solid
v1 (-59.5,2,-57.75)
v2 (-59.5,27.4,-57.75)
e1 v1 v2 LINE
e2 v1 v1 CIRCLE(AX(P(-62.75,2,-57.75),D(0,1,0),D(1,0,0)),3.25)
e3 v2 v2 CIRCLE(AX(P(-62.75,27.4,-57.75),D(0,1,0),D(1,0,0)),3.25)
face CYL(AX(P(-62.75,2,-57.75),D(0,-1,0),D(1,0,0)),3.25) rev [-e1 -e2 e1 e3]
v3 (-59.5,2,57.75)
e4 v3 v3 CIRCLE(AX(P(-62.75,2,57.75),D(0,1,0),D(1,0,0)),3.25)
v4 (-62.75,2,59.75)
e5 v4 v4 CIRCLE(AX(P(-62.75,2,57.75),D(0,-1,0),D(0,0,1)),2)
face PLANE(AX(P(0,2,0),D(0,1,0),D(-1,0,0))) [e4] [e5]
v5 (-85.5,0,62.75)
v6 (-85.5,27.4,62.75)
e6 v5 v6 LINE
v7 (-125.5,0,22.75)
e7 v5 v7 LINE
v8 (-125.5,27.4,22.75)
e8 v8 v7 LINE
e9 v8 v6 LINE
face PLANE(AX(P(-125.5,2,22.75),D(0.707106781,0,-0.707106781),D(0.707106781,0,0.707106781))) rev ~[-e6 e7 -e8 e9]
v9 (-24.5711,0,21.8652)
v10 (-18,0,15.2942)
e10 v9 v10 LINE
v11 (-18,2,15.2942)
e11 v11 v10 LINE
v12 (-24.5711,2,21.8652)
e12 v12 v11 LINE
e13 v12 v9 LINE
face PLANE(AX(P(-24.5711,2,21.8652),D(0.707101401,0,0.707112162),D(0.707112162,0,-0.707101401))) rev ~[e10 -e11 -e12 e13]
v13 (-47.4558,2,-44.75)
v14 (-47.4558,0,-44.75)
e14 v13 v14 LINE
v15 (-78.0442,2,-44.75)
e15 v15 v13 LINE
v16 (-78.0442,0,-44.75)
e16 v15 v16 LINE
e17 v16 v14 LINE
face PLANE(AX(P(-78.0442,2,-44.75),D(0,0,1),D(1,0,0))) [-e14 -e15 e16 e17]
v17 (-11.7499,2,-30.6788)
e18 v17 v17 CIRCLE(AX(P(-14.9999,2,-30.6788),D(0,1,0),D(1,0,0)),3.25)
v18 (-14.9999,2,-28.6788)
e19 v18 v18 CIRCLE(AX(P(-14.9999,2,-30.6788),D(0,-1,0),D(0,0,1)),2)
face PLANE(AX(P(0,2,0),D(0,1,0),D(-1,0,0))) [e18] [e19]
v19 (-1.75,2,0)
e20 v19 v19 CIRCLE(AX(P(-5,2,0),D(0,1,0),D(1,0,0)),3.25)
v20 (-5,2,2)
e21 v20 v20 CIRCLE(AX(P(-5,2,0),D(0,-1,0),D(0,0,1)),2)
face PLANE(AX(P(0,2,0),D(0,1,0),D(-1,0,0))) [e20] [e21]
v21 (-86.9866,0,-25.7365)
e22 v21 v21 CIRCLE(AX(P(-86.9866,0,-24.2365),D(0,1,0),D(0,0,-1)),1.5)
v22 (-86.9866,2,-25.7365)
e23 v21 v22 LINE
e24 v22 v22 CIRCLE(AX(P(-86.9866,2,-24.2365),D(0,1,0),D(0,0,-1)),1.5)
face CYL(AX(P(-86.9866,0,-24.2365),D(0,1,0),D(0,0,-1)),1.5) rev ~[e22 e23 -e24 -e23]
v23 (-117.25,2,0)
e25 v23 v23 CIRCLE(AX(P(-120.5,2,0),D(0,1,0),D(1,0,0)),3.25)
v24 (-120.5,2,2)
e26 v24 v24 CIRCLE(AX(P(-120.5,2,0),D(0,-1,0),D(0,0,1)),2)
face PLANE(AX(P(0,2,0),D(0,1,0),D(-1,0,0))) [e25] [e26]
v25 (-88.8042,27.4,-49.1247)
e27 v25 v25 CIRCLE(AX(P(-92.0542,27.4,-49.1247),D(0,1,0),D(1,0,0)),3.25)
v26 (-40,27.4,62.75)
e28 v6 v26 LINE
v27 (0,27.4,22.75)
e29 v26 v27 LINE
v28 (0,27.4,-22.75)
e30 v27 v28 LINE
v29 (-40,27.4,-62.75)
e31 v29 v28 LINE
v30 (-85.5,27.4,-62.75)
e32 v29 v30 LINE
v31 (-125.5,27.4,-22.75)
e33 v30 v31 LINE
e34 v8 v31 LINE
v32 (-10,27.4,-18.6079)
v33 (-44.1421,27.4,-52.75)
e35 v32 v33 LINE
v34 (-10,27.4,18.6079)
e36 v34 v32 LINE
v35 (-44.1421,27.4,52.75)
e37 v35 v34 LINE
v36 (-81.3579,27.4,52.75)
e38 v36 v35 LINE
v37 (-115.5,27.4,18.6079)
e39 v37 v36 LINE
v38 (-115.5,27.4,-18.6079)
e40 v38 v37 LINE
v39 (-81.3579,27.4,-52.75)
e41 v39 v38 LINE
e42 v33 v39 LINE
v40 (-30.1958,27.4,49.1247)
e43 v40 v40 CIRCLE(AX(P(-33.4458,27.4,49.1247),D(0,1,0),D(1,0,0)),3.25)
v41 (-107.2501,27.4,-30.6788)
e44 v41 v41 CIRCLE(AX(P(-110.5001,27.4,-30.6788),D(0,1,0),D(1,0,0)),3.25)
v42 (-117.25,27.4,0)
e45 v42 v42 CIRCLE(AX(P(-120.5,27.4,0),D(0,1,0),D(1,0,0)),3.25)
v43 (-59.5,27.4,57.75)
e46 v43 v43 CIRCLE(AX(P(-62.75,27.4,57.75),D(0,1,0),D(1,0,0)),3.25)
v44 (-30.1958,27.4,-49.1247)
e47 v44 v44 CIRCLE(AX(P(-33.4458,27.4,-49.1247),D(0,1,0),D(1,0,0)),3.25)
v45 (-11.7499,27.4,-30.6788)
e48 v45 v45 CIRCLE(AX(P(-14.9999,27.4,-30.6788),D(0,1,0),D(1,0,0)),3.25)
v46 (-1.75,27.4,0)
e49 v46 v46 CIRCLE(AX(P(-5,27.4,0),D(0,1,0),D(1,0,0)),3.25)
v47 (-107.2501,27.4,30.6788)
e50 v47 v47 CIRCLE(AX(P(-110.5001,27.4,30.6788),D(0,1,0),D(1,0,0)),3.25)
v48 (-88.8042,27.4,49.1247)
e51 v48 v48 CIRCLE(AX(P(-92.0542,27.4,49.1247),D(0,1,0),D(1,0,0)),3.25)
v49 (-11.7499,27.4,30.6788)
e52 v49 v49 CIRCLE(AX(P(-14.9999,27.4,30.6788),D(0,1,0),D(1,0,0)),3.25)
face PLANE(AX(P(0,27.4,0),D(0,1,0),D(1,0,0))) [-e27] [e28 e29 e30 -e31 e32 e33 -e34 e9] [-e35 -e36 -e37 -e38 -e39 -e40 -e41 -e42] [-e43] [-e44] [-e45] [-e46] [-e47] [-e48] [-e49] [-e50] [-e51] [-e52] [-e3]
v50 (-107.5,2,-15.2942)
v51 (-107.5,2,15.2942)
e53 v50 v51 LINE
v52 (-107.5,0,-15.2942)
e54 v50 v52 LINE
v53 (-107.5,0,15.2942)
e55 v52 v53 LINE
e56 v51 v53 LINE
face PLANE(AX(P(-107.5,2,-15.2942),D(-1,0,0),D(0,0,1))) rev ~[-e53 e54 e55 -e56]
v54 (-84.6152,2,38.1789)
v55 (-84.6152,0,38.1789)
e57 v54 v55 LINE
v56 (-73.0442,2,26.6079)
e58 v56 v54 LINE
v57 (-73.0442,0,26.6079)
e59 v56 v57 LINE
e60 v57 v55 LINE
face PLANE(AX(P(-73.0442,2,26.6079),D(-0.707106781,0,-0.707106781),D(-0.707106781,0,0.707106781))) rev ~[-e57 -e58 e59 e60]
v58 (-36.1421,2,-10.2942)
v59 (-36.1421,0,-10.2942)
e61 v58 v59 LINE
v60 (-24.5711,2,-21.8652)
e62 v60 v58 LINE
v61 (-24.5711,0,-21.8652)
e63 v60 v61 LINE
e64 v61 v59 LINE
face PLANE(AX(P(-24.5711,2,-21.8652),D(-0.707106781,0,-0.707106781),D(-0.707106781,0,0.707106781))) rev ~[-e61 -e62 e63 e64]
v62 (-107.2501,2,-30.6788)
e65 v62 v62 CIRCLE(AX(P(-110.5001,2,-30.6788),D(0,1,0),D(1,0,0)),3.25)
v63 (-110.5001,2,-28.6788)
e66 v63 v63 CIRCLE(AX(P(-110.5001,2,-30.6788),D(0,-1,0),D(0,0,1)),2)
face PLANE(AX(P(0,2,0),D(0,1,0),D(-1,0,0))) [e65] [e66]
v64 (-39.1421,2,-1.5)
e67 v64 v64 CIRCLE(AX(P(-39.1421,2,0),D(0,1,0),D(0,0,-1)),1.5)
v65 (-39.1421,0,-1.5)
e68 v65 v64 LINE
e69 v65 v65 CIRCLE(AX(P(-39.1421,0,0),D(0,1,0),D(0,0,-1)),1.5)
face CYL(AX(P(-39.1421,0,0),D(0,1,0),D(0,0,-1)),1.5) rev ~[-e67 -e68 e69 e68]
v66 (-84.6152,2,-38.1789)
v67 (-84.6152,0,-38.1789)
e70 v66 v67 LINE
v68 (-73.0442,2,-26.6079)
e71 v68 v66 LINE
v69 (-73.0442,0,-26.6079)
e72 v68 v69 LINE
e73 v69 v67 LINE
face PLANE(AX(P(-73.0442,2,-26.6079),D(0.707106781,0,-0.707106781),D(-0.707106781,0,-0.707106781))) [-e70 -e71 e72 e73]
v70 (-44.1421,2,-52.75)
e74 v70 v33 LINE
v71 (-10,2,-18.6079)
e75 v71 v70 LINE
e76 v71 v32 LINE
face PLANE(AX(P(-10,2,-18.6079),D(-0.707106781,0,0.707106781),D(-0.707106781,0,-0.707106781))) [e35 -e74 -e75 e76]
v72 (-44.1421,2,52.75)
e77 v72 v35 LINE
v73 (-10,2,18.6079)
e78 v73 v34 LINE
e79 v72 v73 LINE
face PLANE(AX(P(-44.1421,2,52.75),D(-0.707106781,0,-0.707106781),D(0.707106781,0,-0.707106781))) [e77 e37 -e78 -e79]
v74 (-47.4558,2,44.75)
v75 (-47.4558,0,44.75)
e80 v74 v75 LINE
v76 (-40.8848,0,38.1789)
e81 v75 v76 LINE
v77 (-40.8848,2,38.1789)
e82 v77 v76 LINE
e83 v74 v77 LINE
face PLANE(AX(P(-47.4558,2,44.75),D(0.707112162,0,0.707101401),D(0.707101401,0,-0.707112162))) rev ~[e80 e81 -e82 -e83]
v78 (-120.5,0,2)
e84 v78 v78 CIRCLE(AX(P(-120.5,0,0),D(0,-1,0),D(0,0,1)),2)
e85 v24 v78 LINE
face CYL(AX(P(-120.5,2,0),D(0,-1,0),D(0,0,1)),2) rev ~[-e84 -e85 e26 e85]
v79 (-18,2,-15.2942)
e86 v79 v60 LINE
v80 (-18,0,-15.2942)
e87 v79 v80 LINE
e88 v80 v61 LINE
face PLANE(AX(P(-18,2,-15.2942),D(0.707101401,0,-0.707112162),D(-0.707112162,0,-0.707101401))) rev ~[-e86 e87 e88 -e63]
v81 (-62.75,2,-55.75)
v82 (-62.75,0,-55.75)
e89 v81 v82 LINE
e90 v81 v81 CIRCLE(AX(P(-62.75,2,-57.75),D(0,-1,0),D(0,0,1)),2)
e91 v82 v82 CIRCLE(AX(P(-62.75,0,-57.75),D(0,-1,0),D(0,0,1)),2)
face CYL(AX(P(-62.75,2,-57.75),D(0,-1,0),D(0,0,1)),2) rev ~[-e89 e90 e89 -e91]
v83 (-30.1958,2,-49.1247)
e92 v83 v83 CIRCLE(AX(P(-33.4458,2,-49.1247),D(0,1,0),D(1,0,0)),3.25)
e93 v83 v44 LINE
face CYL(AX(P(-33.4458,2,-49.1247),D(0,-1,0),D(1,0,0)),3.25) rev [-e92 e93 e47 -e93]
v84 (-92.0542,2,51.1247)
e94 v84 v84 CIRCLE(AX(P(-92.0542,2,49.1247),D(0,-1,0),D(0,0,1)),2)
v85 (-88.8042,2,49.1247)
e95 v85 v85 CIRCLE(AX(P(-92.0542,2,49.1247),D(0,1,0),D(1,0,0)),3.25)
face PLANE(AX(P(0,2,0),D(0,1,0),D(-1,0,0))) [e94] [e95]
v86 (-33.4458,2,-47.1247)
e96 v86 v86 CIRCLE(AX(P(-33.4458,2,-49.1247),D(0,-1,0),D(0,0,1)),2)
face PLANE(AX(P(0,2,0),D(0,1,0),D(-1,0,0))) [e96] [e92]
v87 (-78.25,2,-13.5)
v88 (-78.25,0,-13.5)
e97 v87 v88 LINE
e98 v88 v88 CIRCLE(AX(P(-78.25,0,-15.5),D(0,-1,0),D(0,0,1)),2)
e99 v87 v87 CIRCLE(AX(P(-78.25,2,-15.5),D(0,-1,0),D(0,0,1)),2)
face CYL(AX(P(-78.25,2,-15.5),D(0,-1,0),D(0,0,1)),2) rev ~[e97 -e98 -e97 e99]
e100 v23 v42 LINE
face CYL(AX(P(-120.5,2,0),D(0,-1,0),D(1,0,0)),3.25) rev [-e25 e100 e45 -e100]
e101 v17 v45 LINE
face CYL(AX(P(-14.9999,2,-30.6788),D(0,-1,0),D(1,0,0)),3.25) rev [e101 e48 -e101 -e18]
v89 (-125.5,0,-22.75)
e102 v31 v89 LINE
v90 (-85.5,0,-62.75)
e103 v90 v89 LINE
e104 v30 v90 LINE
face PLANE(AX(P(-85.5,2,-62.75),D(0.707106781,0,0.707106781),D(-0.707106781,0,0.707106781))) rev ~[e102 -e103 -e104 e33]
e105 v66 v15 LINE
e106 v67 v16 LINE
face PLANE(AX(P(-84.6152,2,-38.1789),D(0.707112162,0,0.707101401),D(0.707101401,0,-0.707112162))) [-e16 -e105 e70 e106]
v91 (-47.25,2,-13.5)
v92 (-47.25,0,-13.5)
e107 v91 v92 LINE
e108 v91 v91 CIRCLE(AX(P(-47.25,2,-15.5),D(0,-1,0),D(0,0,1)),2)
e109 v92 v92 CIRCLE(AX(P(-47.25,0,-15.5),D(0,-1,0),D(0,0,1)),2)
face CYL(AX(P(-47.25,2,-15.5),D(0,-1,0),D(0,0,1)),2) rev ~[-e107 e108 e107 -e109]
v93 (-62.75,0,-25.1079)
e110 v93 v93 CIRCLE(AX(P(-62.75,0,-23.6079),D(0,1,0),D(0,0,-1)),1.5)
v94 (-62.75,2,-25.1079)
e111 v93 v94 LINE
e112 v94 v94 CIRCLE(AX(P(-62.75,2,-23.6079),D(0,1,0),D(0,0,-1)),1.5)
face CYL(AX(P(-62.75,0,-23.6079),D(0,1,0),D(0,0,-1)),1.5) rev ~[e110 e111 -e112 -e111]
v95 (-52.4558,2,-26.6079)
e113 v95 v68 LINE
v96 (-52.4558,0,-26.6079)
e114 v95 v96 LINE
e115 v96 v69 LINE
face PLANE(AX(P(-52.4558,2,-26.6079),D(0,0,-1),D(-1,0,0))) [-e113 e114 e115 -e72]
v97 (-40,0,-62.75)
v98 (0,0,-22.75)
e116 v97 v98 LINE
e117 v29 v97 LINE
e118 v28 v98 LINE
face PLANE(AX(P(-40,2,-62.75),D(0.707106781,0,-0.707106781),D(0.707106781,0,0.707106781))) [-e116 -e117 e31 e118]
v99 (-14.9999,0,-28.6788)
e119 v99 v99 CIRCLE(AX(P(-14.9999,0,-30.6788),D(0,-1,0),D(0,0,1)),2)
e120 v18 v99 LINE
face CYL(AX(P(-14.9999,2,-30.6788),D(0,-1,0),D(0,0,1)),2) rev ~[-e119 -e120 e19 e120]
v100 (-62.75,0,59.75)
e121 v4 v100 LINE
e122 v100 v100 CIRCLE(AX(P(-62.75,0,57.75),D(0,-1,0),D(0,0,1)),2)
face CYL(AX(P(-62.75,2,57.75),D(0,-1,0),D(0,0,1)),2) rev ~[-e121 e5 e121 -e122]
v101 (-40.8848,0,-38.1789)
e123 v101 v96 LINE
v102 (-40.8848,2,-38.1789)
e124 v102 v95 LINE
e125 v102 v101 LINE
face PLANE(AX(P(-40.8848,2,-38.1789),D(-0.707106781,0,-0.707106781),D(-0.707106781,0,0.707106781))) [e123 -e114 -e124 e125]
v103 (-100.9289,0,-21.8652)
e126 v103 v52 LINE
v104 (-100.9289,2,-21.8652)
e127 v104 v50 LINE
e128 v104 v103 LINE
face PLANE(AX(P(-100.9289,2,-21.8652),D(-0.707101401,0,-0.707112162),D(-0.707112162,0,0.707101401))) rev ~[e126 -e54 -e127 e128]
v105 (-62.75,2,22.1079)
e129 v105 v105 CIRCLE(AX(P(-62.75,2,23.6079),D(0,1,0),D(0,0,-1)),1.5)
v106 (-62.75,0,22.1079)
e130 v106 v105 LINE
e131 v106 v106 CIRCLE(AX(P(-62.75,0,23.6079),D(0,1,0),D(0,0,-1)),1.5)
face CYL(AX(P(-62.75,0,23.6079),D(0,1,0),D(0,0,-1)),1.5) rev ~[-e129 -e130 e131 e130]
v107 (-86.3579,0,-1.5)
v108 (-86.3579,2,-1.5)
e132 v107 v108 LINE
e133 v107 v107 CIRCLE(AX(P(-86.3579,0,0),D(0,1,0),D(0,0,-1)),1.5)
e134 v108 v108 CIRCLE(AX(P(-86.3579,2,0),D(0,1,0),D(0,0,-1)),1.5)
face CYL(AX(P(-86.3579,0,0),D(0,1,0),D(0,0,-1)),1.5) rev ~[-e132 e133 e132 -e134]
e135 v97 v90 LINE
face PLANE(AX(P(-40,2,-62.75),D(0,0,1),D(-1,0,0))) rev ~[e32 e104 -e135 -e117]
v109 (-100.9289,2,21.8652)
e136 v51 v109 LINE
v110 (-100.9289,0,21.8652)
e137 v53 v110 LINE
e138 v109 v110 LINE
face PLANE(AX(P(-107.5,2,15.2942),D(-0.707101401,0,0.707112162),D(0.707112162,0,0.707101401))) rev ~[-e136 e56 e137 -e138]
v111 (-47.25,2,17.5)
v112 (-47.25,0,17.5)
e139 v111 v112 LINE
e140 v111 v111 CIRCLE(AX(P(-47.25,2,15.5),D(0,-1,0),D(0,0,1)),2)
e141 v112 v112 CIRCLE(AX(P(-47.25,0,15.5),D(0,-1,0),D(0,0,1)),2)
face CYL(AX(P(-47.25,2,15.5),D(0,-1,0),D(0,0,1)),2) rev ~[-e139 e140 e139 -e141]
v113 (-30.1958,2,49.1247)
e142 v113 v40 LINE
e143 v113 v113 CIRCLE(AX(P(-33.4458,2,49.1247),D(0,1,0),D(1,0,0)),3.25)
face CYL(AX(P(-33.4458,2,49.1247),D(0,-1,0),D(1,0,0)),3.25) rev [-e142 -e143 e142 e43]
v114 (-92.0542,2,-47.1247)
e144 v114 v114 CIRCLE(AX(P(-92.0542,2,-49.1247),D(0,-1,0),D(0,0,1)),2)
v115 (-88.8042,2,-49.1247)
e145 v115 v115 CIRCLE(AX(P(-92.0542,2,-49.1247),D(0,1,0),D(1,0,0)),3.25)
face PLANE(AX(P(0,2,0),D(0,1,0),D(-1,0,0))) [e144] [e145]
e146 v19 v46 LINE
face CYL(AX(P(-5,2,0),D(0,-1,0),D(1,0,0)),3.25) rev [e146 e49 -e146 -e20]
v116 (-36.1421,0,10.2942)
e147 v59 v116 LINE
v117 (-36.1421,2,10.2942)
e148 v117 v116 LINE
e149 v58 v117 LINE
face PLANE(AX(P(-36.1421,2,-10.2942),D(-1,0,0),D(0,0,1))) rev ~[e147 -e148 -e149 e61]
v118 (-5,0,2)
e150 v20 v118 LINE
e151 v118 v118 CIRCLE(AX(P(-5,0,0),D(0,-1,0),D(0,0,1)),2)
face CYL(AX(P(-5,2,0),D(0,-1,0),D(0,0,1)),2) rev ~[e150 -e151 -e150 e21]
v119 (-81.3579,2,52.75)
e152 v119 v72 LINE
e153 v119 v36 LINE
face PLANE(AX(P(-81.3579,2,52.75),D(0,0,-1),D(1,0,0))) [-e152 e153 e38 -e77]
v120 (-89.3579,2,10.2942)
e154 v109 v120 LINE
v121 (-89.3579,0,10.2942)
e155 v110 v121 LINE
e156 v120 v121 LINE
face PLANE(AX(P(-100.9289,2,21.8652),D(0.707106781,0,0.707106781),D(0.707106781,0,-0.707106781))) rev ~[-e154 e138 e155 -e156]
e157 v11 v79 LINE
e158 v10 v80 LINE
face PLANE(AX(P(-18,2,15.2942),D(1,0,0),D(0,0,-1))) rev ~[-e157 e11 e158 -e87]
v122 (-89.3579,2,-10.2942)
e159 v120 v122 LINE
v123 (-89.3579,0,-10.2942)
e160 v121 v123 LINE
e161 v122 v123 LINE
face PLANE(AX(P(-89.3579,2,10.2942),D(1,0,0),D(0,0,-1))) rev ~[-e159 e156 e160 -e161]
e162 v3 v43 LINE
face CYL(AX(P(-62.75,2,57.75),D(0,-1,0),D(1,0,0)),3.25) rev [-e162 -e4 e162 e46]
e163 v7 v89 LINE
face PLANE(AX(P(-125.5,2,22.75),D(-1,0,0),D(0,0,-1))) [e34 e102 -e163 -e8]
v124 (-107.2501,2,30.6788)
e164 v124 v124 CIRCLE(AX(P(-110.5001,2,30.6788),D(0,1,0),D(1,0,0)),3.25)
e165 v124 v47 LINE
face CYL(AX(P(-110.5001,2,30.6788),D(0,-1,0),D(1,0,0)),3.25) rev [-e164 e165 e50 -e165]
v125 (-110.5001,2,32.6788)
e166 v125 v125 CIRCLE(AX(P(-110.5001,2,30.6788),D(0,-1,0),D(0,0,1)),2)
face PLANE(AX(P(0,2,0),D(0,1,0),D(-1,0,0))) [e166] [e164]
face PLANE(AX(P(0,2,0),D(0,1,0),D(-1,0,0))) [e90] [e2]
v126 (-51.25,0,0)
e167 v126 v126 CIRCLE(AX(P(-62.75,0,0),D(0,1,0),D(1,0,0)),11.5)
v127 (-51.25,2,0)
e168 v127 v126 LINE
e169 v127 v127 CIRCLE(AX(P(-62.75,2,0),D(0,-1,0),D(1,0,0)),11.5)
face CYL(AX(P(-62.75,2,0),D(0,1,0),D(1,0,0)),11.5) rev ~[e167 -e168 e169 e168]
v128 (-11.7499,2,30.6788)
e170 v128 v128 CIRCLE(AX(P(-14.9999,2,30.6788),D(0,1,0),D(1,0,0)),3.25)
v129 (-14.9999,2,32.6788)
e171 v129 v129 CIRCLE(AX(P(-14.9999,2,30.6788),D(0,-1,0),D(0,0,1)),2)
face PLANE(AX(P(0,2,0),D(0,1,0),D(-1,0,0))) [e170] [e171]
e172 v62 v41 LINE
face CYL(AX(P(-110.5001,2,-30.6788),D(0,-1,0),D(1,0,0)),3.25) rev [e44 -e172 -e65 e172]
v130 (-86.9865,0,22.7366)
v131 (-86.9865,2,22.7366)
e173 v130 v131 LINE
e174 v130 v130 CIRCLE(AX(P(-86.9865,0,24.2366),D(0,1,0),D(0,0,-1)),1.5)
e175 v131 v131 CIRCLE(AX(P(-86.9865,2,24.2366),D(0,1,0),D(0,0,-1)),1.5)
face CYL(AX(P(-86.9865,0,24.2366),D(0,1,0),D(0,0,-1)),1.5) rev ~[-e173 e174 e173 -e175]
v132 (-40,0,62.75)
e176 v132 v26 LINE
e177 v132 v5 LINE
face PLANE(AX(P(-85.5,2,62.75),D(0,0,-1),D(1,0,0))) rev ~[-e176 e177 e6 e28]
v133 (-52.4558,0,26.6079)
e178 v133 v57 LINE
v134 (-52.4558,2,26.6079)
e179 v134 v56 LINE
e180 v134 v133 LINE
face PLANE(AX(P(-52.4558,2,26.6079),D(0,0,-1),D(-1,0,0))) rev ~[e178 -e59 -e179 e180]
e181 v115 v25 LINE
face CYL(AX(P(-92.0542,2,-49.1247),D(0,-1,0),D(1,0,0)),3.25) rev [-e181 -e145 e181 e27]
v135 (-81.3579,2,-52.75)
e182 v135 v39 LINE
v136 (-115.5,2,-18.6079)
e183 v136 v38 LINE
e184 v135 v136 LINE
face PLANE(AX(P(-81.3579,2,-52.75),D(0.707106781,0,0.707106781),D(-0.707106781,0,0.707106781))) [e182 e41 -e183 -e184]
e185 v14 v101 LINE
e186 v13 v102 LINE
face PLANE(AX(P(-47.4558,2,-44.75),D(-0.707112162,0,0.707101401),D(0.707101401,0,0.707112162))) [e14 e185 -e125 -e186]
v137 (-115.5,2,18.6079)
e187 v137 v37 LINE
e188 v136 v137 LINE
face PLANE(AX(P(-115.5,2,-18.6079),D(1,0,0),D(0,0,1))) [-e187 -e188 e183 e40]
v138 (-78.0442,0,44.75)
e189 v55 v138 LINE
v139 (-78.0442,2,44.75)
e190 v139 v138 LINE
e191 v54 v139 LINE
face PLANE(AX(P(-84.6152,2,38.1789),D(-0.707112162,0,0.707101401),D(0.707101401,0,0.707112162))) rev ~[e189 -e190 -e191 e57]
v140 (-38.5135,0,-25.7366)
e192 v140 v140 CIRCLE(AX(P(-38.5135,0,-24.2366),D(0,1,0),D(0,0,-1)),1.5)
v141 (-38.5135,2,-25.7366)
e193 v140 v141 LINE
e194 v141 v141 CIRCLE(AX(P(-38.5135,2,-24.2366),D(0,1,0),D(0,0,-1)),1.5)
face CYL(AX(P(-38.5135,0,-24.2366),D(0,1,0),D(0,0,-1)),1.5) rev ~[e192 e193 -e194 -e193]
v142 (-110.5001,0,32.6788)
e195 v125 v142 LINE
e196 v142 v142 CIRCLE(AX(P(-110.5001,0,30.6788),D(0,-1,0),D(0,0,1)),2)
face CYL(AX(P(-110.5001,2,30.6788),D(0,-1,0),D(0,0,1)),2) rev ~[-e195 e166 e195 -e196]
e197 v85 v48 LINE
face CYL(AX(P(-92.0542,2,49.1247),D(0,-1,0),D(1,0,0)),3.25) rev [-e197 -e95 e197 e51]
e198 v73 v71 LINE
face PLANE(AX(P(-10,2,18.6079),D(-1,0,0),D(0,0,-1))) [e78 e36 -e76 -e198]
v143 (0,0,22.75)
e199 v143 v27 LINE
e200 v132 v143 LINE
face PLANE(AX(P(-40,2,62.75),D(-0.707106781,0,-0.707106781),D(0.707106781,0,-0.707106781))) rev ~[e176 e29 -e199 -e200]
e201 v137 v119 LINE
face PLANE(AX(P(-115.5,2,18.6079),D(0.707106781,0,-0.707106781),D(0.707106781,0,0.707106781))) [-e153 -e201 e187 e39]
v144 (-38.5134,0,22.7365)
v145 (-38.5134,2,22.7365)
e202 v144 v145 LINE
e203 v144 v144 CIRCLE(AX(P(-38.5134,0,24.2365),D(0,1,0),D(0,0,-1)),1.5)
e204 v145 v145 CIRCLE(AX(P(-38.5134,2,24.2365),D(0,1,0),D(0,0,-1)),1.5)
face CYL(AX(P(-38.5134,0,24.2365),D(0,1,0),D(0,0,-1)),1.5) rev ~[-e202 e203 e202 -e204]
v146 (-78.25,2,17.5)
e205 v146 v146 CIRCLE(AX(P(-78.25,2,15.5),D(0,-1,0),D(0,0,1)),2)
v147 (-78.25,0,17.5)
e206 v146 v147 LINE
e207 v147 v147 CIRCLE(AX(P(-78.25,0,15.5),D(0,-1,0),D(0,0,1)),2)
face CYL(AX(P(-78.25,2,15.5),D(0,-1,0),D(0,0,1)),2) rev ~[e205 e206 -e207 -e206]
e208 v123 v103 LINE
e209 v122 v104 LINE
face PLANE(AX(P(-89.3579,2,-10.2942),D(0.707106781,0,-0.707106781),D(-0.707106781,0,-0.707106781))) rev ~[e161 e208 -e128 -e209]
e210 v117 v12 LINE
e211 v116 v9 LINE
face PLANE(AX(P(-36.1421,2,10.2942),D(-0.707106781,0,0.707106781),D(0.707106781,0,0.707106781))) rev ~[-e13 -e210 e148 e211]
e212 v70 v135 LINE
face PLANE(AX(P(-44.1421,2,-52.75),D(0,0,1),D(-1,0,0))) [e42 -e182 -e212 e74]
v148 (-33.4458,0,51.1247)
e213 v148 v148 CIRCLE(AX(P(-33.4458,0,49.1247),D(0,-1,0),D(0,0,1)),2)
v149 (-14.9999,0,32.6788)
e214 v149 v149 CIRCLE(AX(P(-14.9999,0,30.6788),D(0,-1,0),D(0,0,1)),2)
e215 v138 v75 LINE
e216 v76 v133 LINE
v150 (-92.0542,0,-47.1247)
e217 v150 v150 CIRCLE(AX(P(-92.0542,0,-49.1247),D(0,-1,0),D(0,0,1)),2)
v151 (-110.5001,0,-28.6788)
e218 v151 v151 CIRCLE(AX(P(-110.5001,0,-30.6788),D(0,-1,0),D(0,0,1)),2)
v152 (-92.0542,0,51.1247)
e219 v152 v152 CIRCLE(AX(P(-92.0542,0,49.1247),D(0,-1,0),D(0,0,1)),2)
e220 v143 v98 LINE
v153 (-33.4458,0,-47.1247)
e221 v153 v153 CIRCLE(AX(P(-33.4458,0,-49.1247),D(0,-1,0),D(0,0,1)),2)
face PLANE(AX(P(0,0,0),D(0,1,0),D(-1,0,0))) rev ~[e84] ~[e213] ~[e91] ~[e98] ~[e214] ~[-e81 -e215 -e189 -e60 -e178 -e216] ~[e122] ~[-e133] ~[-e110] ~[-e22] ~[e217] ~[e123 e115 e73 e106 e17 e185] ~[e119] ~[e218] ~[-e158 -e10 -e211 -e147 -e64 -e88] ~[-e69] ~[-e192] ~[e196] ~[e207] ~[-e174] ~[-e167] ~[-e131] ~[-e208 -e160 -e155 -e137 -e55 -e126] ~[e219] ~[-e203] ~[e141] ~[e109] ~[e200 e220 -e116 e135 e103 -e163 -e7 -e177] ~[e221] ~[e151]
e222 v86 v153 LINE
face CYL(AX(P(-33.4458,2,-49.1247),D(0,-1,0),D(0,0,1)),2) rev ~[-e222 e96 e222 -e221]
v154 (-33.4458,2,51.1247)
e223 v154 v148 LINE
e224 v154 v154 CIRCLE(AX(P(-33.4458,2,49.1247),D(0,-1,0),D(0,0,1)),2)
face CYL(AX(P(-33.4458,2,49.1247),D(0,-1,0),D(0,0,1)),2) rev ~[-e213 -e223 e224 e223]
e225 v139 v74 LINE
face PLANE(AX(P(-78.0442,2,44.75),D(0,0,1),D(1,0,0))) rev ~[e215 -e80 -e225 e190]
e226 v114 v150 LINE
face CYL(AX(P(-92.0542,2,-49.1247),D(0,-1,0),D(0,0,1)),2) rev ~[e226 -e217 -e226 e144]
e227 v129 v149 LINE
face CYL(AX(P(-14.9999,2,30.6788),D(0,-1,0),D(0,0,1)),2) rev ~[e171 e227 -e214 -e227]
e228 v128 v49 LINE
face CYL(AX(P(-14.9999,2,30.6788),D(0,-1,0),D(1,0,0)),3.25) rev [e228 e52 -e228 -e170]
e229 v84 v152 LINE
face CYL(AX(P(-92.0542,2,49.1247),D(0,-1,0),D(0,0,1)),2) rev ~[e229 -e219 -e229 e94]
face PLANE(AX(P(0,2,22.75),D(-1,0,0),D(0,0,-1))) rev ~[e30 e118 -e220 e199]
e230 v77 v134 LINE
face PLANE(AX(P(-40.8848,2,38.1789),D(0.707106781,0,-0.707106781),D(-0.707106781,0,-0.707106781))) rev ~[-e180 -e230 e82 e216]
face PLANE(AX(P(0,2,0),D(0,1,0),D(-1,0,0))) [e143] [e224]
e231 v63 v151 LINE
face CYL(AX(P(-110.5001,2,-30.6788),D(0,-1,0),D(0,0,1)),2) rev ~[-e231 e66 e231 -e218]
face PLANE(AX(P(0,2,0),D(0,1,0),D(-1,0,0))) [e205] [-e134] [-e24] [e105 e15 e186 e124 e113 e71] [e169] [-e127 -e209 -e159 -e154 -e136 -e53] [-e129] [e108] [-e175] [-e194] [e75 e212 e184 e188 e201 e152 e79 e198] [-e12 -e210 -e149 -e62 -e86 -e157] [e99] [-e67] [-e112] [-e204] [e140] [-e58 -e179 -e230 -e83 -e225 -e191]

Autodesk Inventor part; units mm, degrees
ref_plane "YZ Plane" through (0, 0, 0) normal (1, 0, 0) x (0, 1, 0)
ref_plane "XZ Plane" through (0, 0, 0) normal (0, 1, 0) x (-1, 0, 0)
ref_plane "XY Plane" through (0, 0, 0) normal (0, 0, 1) x (1, 0, 0)
sketch "Sketch1" plane through (0, 0, 0) normal (0, 1, 0) x (-1, 0, 0)
  line L0 (0, 0) -> (0, 22.75)
  line L1 (40, 62.75) -> (0, 22.75)
  line L2 (40, 62.75) -> (85.5, 62.75)
  line L3 (85.5, 62.75) -> (125.5, 22.75)
  line L4 (125.5, 22.75) -> (125.5, 0)
  line L5 (0, 0) -> (0, -22.75)
  line L6 (40, -62.75) -> (0, -22.75)
  line L7 (40, -62.75) -> (85.5, -62.75)
  line L8 (85.5, -62.75) -> (125.5, -22.75)
  line L9 (125.5, -22.75) -> (125.5, 0)
  dimension "d0" = 22.75
  dimension "d3" = 45.5
  dimension "d4" = 135
extrude "Extrusion1" add sketch "Sketch1" along normal blind 2
sketch "Sketch2" plane through (0, 2, 0) normal (0, 1, 0) x (1, 0, 0)
  line L0 (-85.5, -62.75) -> (-40, -62.75) projected
  line L1 (-62.75, -62.75) -> (-62.75, 0)
  circle A0 centre (-62.75, 0) radius 11.5
  point P0 (0, 0)
  point P1 (-78.25, -15.5)
  point P2 (-47.25, -15.5)
  point P3 (-47.25, 15.5)
  point P4 (-78.25, 15.5)
  dimension "d7" = 23
extrude "Extrusion2" cut sketch "Sketch2" against normal blind 2
sketch "Sketch3" plane through (0, 2, 0) normal (0, 1, 0) x (1, 0, 0)
  circle A0 centre (-62.75, 0) radius 11.5 projected
  point P0 (0, 0)
  point P1 (-78.25, -15.5)
  point P2 (-47.25, -15.5)
  point P3 (-47.25, 15.5)
  point P4 (-78.25, 15.5)
hole "Hole1" at (-78.25, 2, 15.5) at (-47.25, 2, 15.5) at (-47.25, 2, -15.5) at (-78.25, 2, -15.5) direction (0, -1, 0) diameter 4 depth 2 tip angle 118
sketch "Sketch4" plane through (0, 2, 0) normal (0, 1, 0) x (1, 0, 0)
  line L0 (-125.5, -22.75) -> (-85.5, -62.75) projected
  line L1 (-85.5, -62.75) -> (-125.5, -22.75)
  line L2 (-125.5, 22.75) -> (-125.5, -22.75) projected
  line L3 (-125.5, -22.75) -> (-125.5, 22.75)
  line L4 (-85.5, 62.75) -> (-125.5, 22.75) projected
  line L5 (-125.5, 22.75) -> (-85.5, 62.75)
  line L6 (-40, 62.75) -> (-85.5, 62.75) projected
  line L7 (-85.5, 62.75) -> (-40, 62.75)
  line L8 (0, -22.75) -> (0, 22.75) projected
  line L9 (-40, 62.75) -> (0, 22.75)
  line L10 (0, 22.75) -> (0, -22.75)
  line L11 (-40, -62.75) -> (0, -22.75) projected
  line L12 (0, -22.75) -> (-40, -62.75)
  line L13 (-85.5, -62.75) -> (-40, -62.75) projected
  line L14 (-40, -62.75) -> (-85.5, -62.75)
  circle A0 centre (-62.75, 0) radius 11.5 projected
  point P0 (0, 0)
  point P1 (-62.75, -57.75)
  point P2 (-92.0542, -49.1247)
  point P3 (-110.5001, -30.6788)
  point P4 (-33.4458, -49.1247)
  point P5 (-14.9999, -30.6788)
  point P6 (-5, 0)
  point P7 (-120.5, 0)
  point P8 (-62.75, 57.75)
  point P9 (-92.0542, 49.1247)
  point P10 (-110.5001, 30.6788)
  point P11 (-33.4458, 49.1247)
  point P12 (-14.9999, 30.6788)
hole "Hole2" at (-62.75, 2, 57.75) at (-92.0542, 2, 49.1247) at (-110.5001, 2, 30.6788) at (-33.4458, 2, 49.1247) at (-14.9999, 2, 30.6788) at (-5, 2, 0) at (-120.5, 2, 0) at (-110.5001, 2, -30.6788) at (-92.0542, 2, -49.1247) at (-62.75, 2, -57.75) at (-33.4458, 2, -49.1247) at (-14.9999, 2, -30.6788) direction (0, -1, 0) diameter 4 depth 2 tip angle 118
sketch "Sketch5" plane through (0, 2, 0) normal (0, 1, 0) x (1, 0, 0)
  line L0 (-40, -62.75) -> (0, -22.75) projected
  line L1 (-85.5, -62.75) -> (-40, -62.75) projected
  line L2 (-40, -62.75) -> (-85.5, -62.75)
  line L3 (-125.5, 22.75) -> (-125.5, -22.75) projected
  line L4 (-85.5, -62.75) -> (-125.5, -22.75)
  line L5 (-125.5, -22.75) -> (-125.5, 22.75)
  line L6 (-85.5, 62.75) -> (-125.5, 22.75) projected
  line L7 (-125.5, 22.75) -> (-85.5, 62.75)
  line L8 (-40, 62.75) -> (-85.5, 62.75) projected
  line L9 (-85.5, 62.75) -> (-40, 62.75)
  line L10 (0, -22.75) -> (0, 22.75) projected
  line L11 (-40, 62.75) -> (0, 22.75)
  line L12 (0, 22.75) -> (0, -22.75)
  line L13 (0, -22.75) -> (-40, -62.75)
  line L14 (-81.3579, -52.75) -> (-44.1421, -52.75)
  line L15 (-10, -18.6079) -> (-10, 18.6079)
  line L16 (-44.1421, 52.75) -> (-81.3579, 52.75)
  line L17 (-115.5, 18.6079) -> (-115.5, -18.6079)
  line L18 (-49.1421, -18.6079) -> (-76.3579, -18.6079)
  line L19 (-81.3579, -13.6079) -> (-81.3579, 13.6079)
  line L20 (-76.3579, 18.6079) -> (-49.1421, 18.6079)
  line L21 (-44.1421, 13.6079) -> (-44.1421, -13.6079)
  line L22 (-44.1421, -13.6079) -> (-24.5711, -33.1789)
  line L23 (-49.1421, -18.6079) -> (-29.5711, -38.1789)
  line L24 (-76.3579, -18.6079) -> (-95.9289, -38.1789)
  line L25 (-81.3579, -13.6079) -> (-100.9289, -33.1789)
  line L26 (-81.3579, 13.6079) -> (-100.9289, 33.1789)
  line L27 (-76.3579, 18.6079) -> (-95.9289, 38.1789)
  line L28 (-49.1421, 18.6079) -> (-29.5711, 38.1789)
  line L29 (-44.1421, 13.6079) -> (-24.5711, 33.1789)
  line L30 (-115.5, -18.6079) -> (-100.9289, -33.1789)
  line L31 (-95.9289, -38.1789) -> (-81.3579, -52.75)
  line L32 (-44.1421, -52.75) -> (-29.5711, -38.1789)
  line L33 (-24.5711, -33.1789) -> (-10, -18.6079)
  line L34 (-10, 18.6079) -> (-24.5711, 33.1789)
  line L35 (-29.5711, 38.1789) -> (-44.1421, 52.75)
  line L36 (-91.6863, -38.1789) -> (-75.1152, -21.6079)
  line L37 (-75.1152, -21.6079) -> (-50.3848, -21.6079)
  line L38 (-50.3848, -21.6079) -> (-33.8137, -38.1789)
  line L39 (-33.8137, -38.1789) -> (-45.3848, -49.75)
  line L40 (-45.3848, -49.75) -> (-80.1152, -49.75)
  line L41 (-80.1152, -49.75) -> (-91.6863, -38.1789)
  line L42 (-81.3579, 52.75) -> (-95.9289, 38.1789)
  line L43 (-100.9289, 33.1789) -> (-115.5, 18.6079)
  line L44 (-100.9289, -28.9363) -> (-84.3579, -12.3652)
  line L45 (-84.3579, -12.3652) -> (-84.3579, 12.3652)
  line L46 (-84.3579, 12.3652) -> (-100.9289, 28.9363)
  line L47 (-100.9289, 28.9363) -> (-112.5, 17.3652)
  line L48 (-112.5, 17.3652) -> (-112.5, -17.3652)
  line L49 (-112.5, -17.3652) -> (-100.9289, -28.9363)
  line L50 (-91.6863, 38.1789) -> (-75.1152, 21.6079)
  line L51 (-75.1152, 21.6079) -> (-50.3848, 21.6079)
  line L52 (-50.3848, 21.6079) -> (-33.8137, 38.1789)
  line L53 (-33.8137, 38.1789) -> (-45.3848, 49.75)
  line L54 (-45.3848, 49.75) -> (-80.1152, 49.75)
  line L55 (-80.1152, 49.75) -> (-91.6863, 38.1789)
  line L56 (-41.1421, -12.3652) -> (-41.1421, 12.3652)
  line L57 (-41.1421, 12.3652) -> (-24.5711, 28.9363)
  line L58 (-24.5711, 28.9363) -> (-13, 17.3652)
  line L59 (-13, 17.3652) -> (-13, -17.3652)
  line L60 (-13, -17.3652) -> (-24.5711, -28.9363)
  line L61 (-24.5711, -28.9363) -> (-41.1421, -12.3652)
  line L62 (-73.0442, -26.6079) -> (-84.6152, -38.1789)
  line L63 (-84.6152, -38.1789) -> (-78.0442, -44.75)
  line L64 (-78.0442, -44.75) -> (-47.4558, -44.75)
  line L65 (-47.4558, -44.75) -> (-40.8848, -38.1789)
  line L66 (-40.8848, -38.1789) -> (-52.4558, -26.6079)
  line L67 (-52.4558, -26.6079) -> (-73.0442, -26.6079)
  line L68 (-100.9289, -21.8652) -> (-89.3579, -10.2942)
  line L69 (-89.3579, -10.2942) -> (-89.3579, 10.2942)
  line L70 (-89.3579, 10.2942) -> (-100.9289, 21.8652)
  line L71 (-100.9289, 21.8652) -> (-107.5, 15.2942)
  line L72 (-107.5, 15.2942) -> (-107.5, -15.2942)
  line L73 (-107.5, -15.2942) -> (-100.9289, -21.8652)
  line L74 (-73.0442, 26.6079) -> (-84.6152, 38.1789)
  line L75 (-84.6152, 38.1789) -> (-78.0442, 44.75)
  line L76 (-78.0442, 44.75) -> (-47.4558, 44.75)
  line L77 (-47.4558, 44.75) -> (-40.8848, 38.1789)
  line L78 (-40.8848, 38.1789) -> (-52.4558, 26.6079)
  line L79 (-52.4558, 26.6079) -> (-73.0442, 26.6079)
  line L80 (-36.1421, 10.2942) -> (-36.1421, -10.2942)
  line L81 (-36.1421, -10.2942) -> (-24.5711, -21.8652)
  line L82 (-24.5711, -21.8652) -> (-18, -15.2942)
  line L83 (-18, -15.2942) -> (-18, 15.2942)
  line L84 (-18, 15.2942) -> (-24.5711, 21.8652)
  line L85 (-24.5711, 21.8652) -> (-36.1421, 10.2942)
  point P0 (0, 0)
  dimension "d39" = 3
  dimension "d40" = 3
  dimension "d41" = 3
  dimension "d42" = 3
  dimension "d59" = 7.0711
  dimension "d60" = 7.0711
  dimension "d61" = 5
  dimension "d62" = 5
  dimension "d63" = 5
  dimension "d64" = 5
extrude "Extrusion3" cut sketch "Sketch5" against normal blind 2 contours L67 L66 L65 L64 L63 L62 | L73 L72 L71 L70 L69 L68 | L74 L75 L76 L77 L78 L79 | L85 L84 L83 L82 L81 L80
sketch "Sketch6" plane through (0, 2, 0) normal (0, 1, 0) x (1, 0, 0)
  line L0 (-85.5, -62.75) -> (-40, -62.75) projected
  line L1 (-125.5, -22.75) -> (-85.5, -62.75) projected
  line L2 (-40, -62.75) -> (-85.5, -62.75)
  line L3 (-85.5, -62.75) -> (-125.5, -22.75)
  line L4 (-85.5, 62.75) -> (-125.5, 22.75) projected
  line L5 (-125.5, -22.75) -> (-125.5, 22.75)
  line L6 (-125.5, 22.75) -> (-85.5, 62.75)
  line L7 (-40, 62.75) -> (-85.5, 62.75) projected
  line L8 (-85.5, 62.75) -> (-40, 62.75)
  line L9 (0, -22.75) -> (0, 22.75) projected
  line L10 (-40, 62.75) -> (0, 22.75)
  line L11 (0, 22.75) -> (0, -22.75)
  line L12 (-40, -62.75) -> (0, -22.75) projected
  line L13 (0, -22.75) -> (-40, -62.75)
  line L14 (-115.5, 18.6079) -> (-115.5, -18.6079)
  line L15 (-115.5, -18.6079) -> (-81.3579, -52.75)
  line L16 (-81.3579, -52.75) -> (-44.1421, -52.75)
  line L17 (-44.1421, -52.75) -> (-10, -18.6079)
  line L18 (-10, -18.6079) -> (-10, 18.6079)
  line L19 (-10, 18.6079) -> (-44.1421, 52.75)
  line L20 (-44.1421, 52.75) -> (-81.3579, 52.75)
  line L21 (-81.3579, 52.75) -> (-115.5, 18.6079)
  circle A0 centre (-62.75, -57.75) radius 2 projected
  circle A1 centre (-62.75, -57.75) radius 3.25
  circle A2 centre (-92.0542, -49.1247) radius 2 projected
  circle A3 centre (-92.0542, -49.1247) radius 3.25
  circle A4 centre (-110.5001, -30.6788) radius 2 projected
  circle A5 centre (-110.5001, -30.6788) radius 3.25
  circle A6 centre (-120.5, 0) radius 2 projected
  circle A7 centre (-120.5, 0) radius 3.25
  circle A8 centre (-110.5001, 30.6788) radius 2 projected
  circle A9 centre (-110.5001, 30.6788) radius 3.25
  circle A10 centre (-92.0542, 49.1247) radius 2 projected
  circle A11 centre (-92.0542, 49.1247) radius 3.25
  circle A12 centre (-62.75, 57.75) radius 2 projected
  circle A13 centre (-62.75, 57.75) radius 3.25
  circle A14 centre (-33.4458, 49.1247) radius 2 projected
  circle A15 centre (-33.4458, 49.1247) radius 3.25
  circle A16 centre (-14.9999, 30.6788) radius 2 projected
  circle A17 centre (-14.9999, 30.6788) radius 3.25
  circle A18 centre (-5, 0) radius 2 projected
  circle A19 centre (-5, 0) radius 3.25
  circle A20 centre (-14.9999, -30.6788) radius 2 projected
  circle A21 centre (-14.9999, -30.6788) radius 3.25
  circle A22 centre (-33.4458, -49.1247) radius 2 projected
  circle A23 centre (-33.4458, -49.1247) radius 3.25
  point P0 (0, 0)
  dimension "d45" = 10
  dimension "d46" = 6.5
  dimension "d47" = 6.5
  dimension "d48" = 6.5
  dimension "d49" = 6.5
extrude "Extrusion4" add sketch "Sketch6" along normal blind 25.4 contours L1 L5 L4 L7 L10 L9 L12 L0
sketch "Sketch8" plane through (0, 0, 0) normal (0, -1, 0) x (1, 0, 0)
  line L0 (-52.4558, 26.6079) -> (-73.0442, 26.6079) projected
  circle A0 centre (-62.75, 0) radius 11.5 projected
  circle A1 centre (-62.75, 0) radius 11.5
  line L1 (-73.0442, 26.6079) -> (-84.6152, 38.1789) projected
  line L2 (-100.9289, 21.8652) -> (-89.3579, 10.2942) projected
  line L3 (-36.1421, -10.2942) -> (-36.1421, 10.2942) projected
  line L4 (-73.0442, -26.6079) -> (-52.4558, -26.6079) projected
  line L5 (-89.3579, 10.2942) -> (-89.3579, -10.2942) projected
  point P0 (0, 0)
  point P1 (-39.1421, 0)
  point P2 (-62.75, -23.6079)
  point P3 (-86.3579, 0)
  point P4 (-62.75, 23.6079)
  point P5 (-86.9865, 24.2366)
  point P6 (-38.5134, 24.2365)
  point P7 (-38.5135, -24.2366)
  point P8 (-86.9866, -24.2365)
  dimension "d82" = 3
  dimension "d83" = 3
  dimension "d84" = 3
  dimension "d85" = 3
hole "Hole4" at (-39.1421, 0, 0) at (-62.75, 0, -23.6079) at (-86.3579, 0, 0) at (-62.75, 0, 23.6079) at (-86.9865, 0, 24.2366) at (-38.5134, 0, 24.2365) at (-38.5135, 0, -24.2366) at (-86.9866, 0, -24.2365) direction (0, 1, 0) diameter 3 depth 2 tip angle 118
properties part number "Base_Lid"
